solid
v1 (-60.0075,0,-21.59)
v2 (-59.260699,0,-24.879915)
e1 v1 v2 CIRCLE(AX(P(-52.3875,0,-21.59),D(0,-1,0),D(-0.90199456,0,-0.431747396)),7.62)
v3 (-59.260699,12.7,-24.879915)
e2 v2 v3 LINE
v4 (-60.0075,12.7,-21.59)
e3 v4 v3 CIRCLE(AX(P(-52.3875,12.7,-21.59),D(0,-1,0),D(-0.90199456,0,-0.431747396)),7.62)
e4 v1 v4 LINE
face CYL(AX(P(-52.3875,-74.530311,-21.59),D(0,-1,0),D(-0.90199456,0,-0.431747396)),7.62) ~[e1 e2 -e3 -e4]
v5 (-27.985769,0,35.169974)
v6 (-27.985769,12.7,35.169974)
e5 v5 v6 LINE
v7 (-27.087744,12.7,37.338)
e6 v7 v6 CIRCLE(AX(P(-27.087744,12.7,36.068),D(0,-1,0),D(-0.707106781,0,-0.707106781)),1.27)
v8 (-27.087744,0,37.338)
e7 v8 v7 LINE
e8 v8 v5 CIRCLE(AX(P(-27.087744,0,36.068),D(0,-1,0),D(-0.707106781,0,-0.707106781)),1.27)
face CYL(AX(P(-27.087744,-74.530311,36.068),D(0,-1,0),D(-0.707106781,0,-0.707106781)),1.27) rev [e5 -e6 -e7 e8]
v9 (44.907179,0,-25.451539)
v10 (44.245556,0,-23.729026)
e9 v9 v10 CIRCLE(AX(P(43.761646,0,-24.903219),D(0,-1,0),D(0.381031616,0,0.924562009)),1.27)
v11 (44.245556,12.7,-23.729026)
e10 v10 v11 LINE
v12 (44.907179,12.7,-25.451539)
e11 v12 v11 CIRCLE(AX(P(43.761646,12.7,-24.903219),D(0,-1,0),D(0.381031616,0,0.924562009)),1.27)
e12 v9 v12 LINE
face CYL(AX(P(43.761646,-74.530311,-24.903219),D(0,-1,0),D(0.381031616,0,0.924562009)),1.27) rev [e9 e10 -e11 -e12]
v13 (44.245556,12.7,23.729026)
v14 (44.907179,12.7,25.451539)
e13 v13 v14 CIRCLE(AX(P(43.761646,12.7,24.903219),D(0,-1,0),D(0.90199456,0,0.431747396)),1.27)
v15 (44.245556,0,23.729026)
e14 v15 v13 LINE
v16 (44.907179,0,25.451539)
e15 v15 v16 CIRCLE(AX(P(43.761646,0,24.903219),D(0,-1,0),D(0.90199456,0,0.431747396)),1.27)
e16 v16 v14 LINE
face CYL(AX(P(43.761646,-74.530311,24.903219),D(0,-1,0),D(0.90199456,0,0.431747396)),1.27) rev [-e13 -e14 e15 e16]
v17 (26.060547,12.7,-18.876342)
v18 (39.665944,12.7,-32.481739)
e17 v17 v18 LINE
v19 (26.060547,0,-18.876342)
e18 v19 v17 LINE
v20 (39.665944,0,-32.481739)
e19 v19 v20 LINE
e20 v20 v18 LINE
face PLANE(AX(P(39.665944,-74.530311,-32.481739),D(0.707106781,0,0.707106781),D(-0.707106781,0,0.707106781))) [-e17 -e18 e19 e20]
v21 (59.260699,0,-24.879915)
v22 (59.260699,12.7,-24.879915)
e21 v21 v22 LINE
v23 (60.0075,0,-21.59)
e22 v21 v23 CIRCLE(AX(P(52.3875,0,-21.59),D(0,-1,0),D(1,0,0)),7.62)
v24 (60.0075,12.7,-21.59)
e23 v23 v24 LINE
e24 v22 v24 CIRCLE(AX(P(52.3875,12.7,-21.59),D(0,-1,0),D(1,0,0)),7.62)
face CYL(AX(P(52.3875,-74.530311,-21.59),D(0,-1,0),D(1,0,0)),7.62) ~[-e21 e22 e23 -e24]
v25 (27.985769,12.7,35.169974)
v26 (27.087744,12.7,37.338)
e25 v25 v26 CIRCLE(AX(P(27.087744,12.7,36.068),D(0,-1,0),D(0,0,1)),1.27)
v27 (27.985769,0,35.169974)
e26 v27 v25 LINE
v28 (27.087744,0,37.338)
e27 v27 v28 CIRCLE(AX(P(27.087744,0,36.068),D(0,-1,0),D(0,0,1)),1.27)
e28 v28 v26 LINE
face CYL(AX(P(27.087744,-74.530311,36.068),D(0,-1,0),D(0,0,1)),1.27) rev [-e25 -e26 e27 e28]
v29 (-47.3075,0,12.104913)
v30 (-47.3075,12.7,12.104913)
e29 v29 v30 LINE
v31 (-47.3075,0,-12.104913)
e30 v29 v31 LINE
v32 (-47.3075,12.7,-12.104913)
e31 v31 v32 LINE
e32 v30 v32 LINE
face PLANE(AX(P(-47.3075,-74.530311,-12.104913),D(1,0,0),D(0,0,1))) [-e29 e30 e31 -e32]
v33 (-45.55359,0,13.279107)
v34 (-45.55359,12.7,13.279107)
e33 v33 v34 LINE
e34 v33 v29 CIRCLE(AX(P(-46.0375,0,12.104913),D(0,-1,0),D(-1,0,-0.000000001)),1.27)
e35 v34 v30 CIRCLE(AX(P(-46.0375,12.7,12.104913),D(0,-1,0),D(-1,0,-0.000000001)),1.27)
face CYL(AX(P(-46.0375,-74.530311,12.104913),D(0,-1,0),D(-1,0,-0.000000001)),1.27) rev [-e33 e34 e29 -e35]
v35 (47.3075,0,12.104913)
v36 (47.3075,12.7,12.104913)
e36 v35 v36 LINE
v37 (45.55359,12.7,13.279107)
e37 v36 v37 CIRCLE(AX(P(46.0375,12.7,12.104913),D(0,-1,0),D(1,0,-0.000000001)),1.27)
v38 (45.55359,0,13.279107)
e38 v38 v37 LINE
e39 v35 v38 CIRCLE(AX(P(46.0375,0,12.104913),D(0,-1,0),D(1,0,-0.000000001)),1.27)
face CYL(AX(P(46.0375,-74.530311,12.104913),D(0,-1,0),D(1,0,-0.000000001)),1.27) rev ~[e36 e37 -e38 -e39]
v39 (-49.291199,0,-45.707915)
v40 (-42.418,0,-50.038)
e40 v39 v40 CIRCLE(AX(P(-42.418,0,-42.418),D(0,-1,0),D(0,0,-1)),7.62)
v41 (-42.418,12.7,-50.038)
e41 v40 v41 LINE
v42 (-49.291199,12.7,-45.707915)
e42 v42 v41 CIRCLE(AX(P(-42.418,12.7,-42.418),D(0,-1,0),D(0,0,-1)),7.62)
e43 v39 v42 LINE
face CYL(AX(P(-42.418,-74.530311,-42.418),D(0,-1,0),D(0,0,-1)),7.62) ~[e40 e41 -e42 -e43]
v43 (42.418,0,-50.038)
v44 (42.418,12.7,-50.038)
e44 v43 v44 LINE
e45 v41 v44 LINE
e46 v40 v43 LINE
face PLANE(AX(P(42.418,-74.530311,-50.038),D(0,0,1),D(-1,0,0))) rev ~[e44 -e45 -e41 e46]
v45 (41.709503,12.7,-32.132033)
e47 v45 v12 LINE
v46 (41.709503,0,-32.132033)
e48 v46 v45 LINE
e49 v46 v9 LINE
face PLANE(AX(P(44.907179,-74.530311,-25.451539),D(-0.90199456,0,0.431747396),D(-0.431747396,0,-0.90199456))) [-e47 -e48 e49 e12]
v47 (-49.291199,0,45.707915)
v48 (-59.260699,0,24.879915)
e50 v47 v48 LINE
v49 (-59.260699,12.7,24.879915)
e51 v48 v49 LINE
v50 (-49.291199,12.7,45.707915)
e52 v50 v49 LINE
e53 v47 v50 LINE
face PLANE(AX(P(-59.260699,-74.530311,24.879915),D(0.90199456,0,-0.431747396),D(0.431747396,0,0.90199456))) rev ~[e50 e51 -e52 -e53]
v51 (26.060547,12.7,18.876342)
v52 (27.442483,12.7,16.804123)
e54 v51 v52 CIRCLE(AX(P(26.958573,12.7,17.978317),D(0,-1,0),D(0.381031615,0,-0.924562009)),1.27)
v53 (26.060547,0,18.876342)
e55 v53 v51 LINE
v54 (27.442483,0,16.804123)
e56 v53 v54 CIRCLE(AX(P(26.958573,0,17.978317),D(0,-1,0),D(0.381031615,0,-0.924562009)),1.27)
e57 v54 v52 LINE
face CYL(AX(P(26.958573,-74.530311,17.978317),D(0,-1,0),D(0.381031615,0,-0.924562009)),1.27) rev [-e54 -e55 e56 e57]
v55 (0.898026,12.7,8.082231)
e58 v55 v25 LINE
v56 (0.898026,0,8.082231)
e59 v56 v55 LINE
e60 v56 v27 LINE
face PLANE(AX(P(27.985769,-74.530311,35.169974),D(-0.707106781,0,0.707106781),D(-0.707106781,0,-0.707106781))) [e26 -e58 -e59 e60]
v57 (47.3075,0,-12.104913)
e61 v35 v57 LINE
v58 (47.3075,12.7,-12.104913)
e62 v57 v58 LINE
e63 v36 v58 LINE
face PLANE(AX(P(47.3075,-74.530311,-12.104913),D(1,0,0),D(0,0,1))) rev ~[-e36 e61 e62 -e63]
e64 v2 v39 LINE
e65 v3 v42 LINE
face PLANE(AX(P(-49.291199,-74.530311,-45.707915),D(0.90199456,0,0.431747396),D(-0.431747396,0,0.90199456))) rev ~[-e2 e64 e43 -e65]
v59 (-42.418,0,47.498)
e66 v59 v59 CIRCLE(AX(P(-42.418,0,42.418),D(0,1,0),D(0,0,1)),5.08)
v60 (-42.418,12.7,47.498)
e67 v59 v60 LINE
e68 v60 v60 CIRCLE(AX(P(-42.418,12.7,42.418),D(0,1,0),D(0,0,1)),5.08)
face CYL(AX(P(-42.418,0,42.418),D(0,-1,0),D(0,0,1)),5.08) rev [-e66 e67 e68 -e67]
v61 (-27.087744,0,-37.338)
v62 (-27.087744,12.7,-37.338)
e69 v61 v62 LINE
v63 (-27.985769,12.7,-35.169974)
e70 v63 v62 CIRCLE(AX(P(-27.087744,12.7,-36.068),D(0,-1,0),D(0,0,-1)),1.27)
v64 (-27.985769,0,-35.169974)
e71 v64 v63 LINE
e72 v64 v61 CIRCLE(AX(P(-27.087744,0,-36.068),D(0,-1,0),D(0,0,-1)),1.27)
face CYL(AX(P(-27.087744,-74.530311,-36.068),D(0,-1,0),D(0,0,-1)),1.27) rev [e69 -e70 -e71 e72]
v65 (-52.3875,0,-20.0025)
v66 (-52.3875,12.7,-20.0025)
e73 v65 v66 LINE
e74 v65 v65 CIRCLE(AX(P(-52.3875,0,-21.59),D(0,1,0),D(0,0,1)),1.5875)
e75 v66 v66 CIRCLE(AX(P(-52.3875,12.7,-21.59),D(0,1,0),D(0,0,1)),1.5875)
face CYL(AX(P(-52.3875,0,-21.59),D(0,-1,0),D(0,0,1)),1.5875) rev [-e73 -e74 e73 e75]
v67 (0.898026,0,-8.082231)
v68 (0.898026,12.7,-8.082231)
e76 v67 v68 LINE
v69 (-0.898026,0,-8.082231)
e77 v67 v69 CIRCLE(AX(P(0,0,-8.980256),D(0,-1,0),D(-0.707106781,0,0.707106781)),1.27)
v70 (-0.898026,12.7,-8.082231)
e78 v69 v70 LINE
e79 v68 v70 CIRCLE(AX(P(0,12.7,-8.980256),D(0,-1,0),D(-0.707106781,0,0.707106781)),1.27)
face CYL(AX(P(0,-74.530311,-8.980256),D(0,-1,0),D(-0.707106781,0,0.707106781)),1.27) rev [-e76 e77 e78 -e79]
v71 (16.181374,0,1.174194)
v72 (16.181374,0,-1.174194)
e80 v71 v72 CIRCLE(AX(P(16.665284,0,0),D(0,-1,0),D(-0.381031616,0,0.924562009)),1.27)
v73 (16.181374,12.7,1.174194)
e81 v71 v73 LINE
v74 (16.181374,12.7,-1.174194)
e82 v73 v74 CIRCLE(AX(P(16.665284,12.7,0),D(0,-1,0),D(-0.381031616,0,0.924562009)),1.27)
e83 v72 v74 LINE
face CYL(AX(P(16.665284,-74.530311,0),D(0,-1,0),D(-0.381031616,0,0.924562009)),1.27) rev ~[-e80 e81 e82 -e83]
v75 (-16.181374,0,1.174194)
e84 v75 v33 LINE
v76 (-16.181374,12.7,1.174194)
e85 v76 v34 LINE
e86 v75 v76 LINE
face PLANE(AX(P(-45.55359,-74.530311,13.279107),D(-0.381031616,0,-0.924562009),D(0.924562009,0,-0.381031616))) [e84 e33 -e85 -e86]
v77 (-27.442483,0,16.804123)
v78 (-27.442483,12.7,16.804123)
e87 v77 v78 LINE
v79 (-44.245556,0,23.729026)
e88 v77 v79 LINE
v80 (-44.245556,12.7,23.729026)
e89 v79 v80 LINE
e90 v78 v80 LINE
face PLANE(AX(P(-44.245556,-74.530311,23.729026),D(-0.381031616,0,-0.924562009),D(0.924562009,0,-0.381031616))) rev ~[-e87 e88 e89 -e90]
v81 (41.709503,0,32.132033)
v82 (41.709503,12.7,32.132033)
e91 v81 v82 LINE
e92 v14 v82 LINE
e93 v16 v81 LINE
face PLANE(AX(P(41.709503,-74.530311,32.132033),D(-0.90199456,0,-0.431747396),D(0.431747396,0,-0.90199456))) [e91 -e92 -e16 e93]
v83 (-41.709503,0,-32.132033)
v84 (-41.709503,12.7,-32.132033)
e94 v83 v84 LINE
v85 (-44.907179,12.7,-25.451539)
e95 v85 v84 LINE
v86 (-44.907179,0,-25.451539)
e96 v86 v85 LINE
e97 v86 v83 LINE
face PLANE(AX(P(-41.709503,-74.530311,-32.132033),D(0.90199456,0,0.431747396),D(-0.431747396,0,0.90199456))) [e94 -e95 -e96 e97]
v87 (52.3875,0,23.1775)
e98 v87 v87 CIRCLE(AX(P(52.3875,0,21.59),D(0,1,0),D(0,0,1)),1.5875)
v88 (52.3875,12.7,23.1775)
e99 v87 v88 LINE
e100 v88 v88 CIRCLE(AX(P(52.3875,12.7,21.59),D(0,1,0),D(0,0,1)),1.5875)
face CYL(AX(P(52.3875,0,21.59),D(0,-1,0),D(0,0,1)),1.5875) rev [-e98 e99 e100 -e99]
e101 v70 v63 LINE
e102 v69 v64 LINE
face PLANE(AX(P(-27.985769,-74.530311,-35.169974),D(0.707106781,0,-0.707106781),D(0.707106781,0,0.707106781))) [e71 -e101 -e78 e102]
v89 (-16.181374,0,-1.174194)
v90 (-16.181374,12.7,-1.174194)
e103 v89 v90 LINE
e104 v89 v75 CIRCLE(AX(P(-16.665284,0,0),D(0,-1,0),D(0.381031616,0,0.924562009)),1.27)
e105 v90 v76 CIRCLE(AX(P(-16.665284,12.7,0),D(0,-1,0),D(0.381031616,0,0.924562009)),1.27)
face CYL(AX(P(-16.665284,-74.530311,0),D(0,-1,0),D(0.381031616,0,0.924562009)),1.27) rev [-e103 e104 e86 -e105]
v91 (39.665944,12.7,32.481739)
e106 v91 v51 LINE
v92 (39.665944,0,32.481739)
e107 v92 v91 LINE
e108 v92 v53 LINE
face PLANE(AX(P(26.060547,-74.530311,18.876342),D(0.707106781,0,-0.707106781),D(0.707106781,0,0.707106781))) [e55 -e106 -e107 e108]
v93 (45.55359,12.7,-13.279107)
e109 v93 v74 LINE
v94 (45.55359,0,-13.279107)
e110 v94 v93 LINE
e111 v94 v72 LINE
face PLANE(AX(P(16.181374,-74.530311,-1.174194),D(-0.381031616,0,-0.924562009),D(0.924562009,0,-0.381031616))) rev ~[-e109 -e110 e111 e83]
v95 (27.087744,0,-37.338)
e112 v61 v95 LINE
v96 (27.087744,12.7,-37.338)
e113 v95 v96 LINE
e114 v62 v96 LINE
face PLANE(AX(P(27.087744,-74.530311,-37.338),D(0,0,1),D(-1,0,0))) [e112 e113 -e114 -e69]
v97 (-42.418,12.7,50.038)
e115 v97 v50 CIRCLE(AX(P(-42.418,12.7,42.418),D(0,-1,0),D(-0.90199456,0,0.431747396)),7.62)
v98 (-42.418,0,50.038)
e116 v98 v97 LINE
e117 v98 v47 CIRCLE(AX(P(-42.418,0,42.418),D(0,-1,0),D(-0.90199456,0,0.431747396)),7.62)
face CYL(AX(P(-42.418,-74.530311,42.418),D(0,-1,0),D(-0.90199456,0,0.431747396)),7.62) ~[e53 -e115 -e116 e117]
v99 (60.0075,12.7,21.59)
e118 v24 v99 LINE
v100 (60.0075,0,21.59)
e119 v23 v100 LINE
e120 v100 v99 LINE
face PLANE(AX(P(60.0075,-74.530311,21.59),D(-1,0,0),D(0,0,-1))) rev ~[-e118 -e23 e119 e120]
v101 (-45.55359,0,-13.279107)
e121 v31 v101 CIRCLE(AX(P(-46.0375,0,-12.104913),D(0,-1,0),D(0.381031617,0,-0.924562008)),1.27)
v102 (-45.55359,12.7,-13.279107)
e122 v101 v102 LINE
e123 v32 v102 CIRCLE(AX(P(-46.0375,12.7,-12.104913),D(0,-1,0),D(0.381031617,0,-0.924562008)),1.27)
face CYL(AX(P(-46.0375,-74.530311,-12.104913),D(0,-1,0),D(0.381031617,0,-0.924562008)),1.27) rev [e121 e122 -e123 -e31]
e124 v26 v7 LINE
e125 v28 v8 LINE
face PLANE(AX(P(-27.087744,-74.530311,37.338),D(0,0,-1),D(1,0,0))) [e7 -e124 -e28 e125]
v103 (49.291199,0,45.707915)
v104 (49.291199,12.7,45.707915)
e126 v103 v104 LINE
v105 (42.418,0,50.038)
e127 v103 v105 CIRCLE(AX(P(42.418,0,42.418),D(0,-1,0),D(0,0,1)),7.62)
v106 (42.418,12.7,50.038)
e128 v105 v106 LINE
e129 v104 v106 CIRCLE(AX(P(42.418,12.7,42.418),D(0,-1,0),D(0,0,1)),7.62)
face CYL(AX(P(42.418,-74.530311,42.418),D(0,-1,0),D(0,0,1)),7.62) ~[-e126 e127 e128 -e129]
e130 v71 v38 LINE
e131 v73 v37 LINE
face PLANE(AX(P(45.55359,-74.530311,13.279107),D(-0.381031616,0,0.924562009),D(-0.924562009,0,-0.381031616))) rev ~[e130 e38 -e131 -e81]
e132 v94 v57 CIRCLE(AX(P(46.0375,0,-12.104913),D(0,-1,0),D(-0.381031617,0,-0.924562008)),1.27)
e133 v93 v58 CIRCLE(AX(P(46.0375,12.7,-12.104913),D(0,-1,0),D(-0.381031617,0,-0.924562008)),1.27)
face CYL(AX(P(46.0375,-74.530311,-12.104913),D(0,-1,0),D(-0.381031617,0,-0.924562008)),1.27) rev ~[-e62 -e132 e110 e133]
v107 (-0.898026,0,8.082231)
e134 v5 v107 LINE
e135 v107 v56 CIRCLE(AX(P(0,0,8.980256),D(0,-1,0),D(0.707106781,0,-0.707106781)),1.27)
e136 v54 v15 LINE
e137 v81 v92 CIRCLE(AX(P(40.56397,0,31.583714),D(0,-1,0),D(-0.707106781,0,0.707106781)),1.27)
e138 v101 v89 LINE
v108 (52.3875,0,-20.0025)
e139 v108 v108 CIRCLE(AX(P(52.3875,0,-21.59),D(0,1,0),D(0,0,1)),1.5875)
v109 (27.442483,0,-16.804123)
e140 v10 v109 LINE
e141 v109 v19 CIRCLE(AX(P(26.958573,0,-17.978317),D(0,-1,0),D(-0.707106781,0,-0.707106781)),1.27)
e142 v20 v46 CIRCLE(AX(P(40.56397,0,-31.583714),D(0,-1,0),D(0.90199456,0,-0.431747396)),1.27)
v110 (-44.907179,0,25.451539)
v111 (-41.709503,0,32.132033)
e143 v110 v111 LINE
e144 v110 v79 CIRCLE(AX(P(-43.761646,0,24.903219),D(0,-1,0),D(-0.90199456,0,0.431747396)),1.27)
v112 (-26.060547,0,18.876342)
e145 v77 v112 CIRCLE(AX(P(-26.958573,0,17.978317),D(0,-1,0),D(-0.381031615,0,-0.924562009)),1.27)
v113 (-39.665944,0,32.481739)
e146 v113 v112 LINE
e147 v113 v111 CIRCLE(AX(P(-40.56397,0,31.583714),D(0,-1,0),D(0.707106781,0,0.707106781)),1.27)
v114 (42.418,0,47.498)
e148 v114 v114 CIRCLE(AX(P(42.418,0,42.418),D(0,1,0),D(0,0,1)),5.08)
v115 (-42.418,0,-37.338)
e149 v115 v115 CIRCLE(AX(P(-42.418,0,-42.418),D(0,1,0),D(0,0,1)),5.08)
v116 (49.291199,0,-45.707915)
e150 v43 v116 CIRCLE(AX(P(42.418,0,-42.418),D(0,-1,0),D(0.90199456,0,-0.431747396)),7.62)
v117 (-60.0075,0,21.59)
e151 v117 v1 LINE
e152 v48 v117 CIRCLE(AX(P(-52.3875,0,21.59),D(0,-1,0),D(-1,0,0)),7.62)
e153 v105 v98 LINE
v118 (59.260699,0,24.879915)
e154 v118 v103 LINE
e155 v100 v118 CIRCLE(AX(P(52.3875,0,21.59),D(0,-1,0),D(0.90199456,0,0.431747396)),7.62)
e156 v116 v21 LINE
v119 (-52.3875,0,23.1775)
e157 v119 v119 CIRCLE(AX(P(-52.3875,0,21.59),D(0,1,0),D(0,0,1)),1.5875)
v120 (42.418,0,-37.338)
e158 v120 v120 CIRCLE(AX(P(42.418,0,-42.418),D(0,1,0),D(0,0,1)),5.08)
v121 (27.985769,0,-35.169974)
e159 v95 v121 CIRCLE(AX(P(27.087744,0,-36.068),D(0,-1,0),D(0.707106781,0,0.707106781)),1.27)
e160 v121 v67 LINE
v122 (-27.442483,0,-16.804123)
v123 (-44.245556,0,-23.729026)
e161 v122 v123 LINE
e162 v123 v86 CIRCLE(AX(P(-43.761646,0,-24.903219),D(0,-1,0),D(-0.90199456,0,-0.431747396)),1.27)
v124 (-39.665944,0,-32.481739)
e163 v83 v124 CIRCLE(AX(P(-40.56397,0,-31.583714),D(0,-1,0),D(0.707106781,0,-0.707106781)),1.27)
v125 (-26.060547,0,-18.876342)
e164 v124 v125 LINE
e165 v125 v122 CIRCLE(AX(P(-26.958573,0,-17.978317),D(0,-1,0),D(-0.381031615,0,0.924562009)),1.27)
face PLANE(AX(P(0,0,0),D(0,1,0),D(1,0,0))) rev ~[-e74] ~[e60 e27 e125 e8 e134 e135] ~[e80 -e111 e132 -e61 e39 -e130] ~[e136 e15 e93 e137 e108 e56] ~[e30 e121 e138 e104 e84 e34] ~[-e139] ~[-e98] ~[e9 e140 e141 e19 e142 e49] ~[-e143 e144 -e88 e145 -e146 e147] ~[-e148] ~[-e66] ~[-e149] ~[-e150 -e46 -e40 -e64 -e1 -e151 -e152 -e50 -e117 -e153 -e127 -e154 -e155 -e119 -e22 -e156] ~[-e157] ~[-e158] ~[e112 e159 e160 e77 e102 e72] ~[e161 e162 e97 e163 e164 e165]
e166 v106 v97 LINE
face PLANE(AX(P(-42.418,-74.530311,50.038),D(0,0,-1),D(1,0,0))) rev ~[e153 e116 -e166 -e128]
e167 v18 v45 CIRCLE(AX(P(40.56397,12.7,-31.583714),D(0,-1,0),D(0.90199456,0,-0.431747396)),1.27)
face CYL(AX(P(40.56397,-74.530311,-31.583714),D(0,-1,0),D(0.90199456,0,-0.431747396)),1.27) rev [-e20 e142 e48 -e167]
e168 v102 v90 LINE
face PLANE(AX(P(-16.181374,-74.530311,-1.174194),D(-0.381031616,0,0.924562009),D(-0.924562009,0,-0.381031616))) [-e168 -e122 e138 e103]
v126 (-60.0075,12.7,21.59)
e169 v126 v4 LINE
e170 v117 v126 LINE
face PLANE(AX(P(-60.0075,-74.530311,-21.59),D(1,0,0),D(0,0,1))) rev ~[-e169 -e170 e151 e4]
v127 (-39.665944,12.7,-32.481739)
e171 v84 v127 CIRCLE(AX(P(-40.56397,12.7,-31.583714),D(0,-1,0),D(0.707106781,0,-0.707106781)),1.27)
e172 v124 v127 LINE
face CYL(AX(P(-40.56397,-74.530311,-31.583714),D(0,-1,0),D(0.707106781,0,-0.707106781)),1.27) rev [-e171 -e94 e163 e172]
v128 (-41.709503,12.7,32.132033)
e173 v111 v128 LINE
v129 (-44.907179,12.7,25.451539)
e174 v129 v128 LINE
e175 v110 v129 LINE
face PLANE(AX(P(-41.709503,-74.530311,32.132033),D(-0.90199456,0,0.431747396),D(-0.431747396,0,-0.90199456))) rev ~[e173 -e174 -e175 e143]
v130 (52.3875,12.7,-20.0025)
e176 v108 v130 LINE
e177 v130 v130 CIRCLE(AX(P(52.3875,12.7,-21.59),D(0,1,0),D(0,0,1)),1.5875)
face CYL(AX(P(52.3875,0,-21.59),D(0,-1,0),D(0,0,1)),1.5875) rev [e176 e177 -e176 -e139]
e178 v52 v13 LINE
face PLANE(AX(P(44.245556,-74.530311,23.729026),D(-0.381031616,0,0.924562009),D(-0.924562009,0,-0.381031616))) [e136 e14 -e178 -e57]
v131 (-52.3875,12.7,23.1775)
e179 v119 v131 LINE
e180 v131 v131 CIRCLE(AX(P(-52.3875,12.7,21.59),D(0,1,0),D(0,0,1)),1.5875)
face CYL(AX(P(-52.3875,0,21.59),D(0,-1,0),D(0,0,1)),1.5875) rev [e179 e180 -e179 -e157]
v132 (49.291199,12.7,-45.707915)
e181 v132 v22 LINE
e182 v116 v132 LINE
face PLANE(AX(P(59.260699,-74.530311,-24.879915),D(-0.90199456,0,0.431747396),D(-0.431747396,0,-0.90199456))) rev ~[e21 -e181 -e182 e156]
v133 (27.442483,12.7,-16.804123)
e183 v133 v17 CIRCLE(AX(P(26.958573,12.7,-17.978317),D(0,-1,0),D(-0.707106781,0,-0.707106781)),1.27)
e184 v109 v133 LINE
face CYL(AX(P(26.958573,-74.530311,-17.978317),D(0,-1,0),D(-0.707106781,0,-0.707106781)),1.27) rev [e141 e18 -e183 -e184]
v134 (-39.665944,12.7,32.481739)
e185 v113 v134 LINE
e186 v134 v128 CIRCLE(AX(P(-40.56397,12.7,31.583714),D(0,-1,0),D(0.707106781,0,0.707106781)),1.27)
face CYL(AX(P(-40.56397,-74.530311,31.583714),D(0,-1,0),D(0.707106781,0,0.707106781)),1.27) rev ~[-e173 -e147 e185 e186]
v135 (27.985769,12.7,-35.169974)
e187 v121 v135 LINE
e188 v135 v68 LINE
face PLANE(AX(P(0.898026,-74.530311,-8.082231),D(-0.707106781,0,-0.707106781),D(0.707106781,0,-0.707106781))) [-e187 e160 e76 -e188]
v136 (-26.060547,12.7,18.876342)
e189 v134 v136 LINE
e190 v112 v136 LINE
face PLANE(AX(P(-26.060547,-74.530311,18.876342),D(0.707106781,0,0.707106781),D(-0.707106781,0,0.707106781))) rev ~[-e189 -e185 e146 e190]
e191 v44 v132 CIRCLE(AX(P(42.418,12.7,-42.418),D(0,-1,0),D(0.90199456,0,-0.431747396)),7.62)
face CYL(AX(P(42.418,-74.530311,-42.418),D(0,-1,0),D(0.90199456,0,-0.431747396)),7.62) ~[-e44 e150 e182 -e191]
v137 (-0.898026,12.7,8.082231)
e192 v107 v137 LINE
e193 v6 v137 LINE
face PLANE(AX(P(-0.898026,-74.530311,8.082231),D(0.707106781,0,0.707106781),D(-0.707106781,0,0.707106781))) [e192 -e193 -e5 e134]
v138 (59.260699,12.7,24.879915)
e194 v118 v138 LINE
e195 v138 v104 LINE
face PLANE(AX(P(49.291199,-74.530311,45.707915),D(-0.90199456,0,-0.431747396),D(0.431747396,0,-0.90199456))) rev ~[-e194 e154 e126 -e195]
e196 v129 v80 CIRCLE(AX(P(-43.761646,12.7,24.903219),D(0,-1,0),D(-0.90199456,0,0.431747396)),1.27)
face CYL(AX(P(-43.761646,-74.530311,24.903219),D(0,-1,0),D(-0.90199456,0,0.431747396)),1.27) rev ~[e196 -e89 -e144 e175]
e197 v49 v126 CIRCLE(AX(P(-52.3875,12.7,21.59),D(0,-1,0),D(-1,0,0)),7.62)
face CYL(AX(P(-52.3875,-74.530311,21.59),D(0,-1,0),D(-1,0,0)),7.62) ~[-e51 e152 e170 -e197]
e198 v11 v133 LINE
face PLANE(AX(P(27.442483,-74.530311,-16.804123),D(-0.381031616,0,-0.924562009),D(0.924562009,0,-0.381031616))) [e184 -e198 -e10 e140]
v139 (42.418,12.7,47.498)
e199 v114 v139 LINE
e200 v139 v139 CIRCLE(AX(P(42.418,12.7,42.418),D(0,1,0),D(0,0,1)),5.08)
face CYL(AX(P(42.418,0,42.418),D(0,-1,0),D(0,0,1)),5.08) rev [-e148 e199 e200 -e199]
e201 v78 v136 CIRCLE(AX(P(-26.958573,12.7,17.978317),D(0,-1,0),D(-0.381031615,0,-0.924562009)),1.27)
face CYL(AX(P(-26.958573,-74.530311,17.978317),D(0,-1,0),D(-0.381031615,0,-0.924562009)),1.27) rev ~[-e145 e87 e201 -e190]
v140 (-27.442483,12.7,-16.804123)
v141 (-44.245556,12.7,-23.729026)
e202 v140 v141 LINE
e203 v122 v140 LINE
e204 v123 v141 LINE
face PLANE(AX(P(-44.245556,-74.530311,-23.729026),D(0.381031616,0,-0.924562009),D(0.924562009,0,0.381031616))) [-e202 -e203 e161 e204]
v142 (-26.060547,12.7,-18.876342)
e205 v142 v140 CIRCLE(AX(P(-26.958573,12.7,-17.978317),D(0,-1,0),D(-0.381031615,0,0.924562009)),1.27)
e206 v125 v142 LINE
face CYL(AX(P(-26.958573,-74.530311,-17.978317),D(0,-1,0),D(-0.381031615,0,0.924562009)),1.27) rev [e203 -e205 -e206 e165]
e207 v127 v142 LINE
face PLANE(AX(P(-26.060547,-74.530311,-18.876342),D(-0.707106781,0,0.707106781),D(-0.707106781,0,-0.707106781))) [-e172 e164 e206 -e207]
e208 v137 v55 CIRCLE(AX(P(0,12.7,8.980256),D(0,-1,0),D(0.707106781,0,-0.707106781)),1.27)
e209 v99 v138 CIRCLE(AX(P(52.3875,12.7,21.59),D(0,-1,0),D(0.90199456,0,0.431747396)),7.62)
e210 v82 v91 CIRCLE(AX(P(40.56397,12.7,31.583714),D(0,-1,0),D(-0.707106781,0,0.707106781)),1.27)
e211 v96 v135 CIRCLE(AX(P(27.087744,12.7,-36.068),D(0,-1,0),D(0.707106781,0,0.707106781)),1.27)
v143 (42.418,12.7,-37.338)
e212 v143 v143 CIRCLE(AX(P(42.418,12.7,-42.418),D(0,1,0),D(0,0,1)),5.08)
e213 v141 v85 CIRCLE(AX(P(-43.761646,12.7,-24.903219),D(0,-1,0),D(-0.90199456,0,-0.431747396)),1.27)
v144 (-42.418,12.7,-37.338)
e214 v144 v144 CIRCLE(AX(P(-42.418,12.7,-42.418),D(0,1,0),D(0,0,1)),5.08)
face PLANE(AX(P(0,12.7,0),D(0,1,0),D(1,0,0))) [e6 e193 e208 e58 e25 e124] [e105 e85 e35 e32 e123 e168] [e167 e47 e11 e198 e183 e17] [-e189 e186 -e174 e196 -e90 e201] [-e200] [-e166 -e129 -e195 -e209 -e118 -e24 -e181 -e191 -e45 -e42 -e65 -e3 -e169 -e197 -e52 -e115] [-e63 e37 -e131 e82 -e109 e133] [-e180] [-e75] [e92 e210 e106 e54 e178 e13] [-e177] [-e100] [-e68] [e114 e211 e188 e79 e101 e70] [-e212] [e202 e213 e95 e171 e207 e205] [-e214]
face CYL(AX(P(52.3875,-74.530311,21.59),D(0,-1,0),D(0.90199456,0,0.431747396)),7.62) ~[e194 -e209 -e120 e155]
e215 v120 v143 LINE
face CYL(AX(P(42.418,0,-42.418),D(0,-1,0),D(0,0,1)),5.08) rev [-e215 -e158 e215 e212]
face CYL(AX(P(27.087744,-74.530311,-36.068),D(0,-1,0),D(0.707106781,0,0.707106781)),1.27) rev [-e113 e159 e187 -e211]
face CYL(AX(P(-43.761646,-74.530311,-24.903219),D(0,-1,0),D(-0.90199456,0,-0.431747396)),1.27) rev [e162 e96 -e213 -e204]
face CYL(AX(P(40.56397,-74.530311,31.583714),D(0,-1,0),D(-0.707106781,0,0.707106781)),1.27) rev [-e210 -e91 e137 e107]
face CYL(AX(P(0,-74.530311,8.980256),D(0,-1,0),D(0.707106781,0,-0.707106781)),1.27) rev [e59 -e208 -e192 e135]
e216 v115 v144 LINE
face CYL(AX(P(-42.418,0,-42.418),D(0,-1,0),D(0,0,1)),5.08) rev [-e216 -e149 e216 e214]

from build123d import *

# Parameters (mm, degrees)
SKETCH1_W               = 130.175
SKETCH1_H               = 110.236
SKETCH1_R               = 1.5875
SKETCH1_R_2             = 5.08
BOSS_EXTRUDE1_DEPTH     = 12.7
CUT_EXTRUDE1_DEPTH      = 87.230311261
CUT_EXTRUDE1_DEPTH_BACK = 87.230311261
SKETCH2_OUTSIDE_W       = 166.385
SKETCH2_OUTSIDE_H       = 146.446


with BuildPart() as part:
    # Sketch1 → Boss-Extrude1 (new body)
    with BuildSketch(Plane(origin=(0, 0, 0), x_dir=(1, 0, 0), z_dir=(0, 1, 0))):
        Rectangle(SKETCH1_W, SKETCH1_H)
        with Locations(Location((-52.3875, 21.59, 0), (0, 0, 270))):
            Circle(SKETCH1_R, mode=Mode.SUBTRACT)
        with Locations(Location((52.3875, 21.59, 0), (0, 0, 270))):
            Circle(SKETCH1_R, mode=Mode.SUBTRACT)
        with Locations(Location((52.3875, -21.59, 0), (0, 0, 270))):
            Circle(SKETCH1_R, mode=Mode.SUBTRACT)
        with Locations(Location((-52.3875, -21.59, 0), (0, 0, 270))):
            Circle(SKETCH1_R, mode=Mode.SUBTRACT)
        with Locations(Location((-42.418, 42.418, 0), (0, 0, 270))):
            Circle(SKETCH1_R_2, mode=Mode.SUBTRACT)
        with Locations(Location((42.418, 42.418, 0), (0, 0, 270))):
            Circle(SKETCH1_R_2, mode=Mode.SUBTRACT)
        with Locations(Location((42.418, -42.418, 0), (0, 0, 270))):
            Circle(SKETCH1_R_2, mode=Mode.SUBTRACT)
        with Locations(Location((-42.418, -42.418, 0), (0, 0, 270))):
            Circle(SKETCH1_R_2, mode=Mode.SUBTRACT)
    extrude(amount=BOSS_EXTRUDE1_DEPTH)

    # Sketch2 outside → Cut-Extrude1 (cut, two sides: drawn at the far end of the back side and taken through both)
    # profile 1 of 9: a face of its own
    with BuildSketch(Plane(origin=(0, 12.7, 0), x_dir=(1, 0, 0), z_dir=(0, 1, 0)).offset(-CUT_EXTRUDE1_DEPTH_BACK)):
        with Locations((-0.0005, 0)):
            Rectangle(SKETCH2_OUTSIDE_W, SKETCH2_OUTSIDE_H)
        with BuildLine():
            Line((42.418, 50.038), (-42.418, 50.038))
            ThreePointArc((-42.418, 50.038), (-46.479726634, 48.865230161), (-49.291198546, 45.707915158))
            Line((-49.291198546, 45.707915158), (-59.260698546, 24.879915158))
            ThreePointArc((-59.260698546, 24.879915158), (-59.818454613, 23.276805721), (-60.0075, 21.59))
            Line((-60.0075, 21.59), (-60.0075, -21.59))
            ThreePointArc((-60.0075, -21.59), (-59.818454613, -23.276805721), (-59.260698546, -24.879915158))
            Line((-59.260698546, -24.879915158), (-49.291198546, -45.707915158))
            ThreePointArc((-49.291198546, -45.707915158), (-46.479726634, -48.865230161), (-42.418, -50.038))
            Line((-42.418, -50.038), (42.418, -50.038))
            ThreePointArc((42.418, -50.038), (46.479726634, -48.865230161), (49.291198546, -45.707915158))
            Line((49.291198546, -45.707915158), (59.260698546, -24.879915158))
            ThreePointArc((59.260698546, -24.879915158), (59.818454613, -23.276805721), (60.0075, -21.59))
            Line((60.0075, -21.59), (60.0075, 21.59))
            ThreePointArc((60.0075, 21.59), (59.818454613, 23.276805721), (59.260698546, 24.879915158))
            Line((59.260698546, 24.879915158), (49.291198546, 45.707915158))
            ThreePointArc((49.291198546, 45.707915158), (46.479726634, 48.865230161), (42.418, 50.038))
        make_face(mode=Mode.SUBTRACT)
    # profile 2 of 9: a face of its own
    with BuildSketch(Plane(origin=(0, 12.7, 0), x_dir=(1, 0, 0), z_dir=(0, 1, 0)).offset(-CUT_EXTRUDE1_DEPTH_BACK)):
        with BuildLine():
            Line((-27.087743879, -37.338), (27.087743879, -37.338))
            ThreePointArc((27.087743879, -37.338), (28.261070885, -36.554007959), (27.985769491, -35.169974388))
            Line((27.985769491, -35.169974388), (0.898025612, -8.082230509))
            ThreePointArc((0.898025612, -8.082230509), (0, -7.710256121), (-0.898025612, -8.082230509))
            Line((-0.898025612, -8.082230509), (-27.985769491, -35.169974388))
            ThreePointArc((-27.985769491, -35.169974388), (-28.261070885, -36.554007959), (-27.087743879, -37.338))
        make_face()
    # profile 3 of 9: a face of its own
    with BuildSketch(Plane(origin=(0, 12.7, 0), x_dir=(1, 0, 0), z_dir=(0, 1, 0)).offset(-CUT_EXTRUDE1_DEPTH_BACK)):
        with BuildLine():
            Line((-44.245555664, -23.729025589), (-27.442482896, -16.804122872))
            ThreePointArc((-27.442482896, -16.804122872), (-25.901976239, -17.273686348), (-26.060547132, -18.876342235))
            Line((-26.060547132, -18.876342235), (-39.665944234, -32.481739337))
            ThreePointArc((-39.665944234, -32.481739337), (-40.778186169, -32.835516971), (-41.709502937, -32.132032918))
            Line((-41.709502937, -32.132032918), (-44.907178603, -25.451538533))
            ThreePointArc((-44.907178603, -25.451538533), (-44.947197717, -24.447844803), (-44.245555664, -23.729025589))
        make_face()
    # profile 4 of 9: a face of its own
    with BuildSketch(Plane(origin=(0, 12.7, 0), x_dir=(1, 0, 0), z_dir=(0, 1, 0)).offset(-CUT_EXTRUDE1_DEPTH_BACK)):
        with BuildLine():
            Line((-45.553589848, -13.279107107), (-16.181373616, -1.174193751))
            ThreePointArc((-16.181373616, -1.174193751), (-15.395283768, 0), (-16.181373616, 1.174193751))
            Line((-16.181373616, 1.174193751), (-45.553589848, 13.279107107))
            ThreePointArc((-45.553589848, 13.279107107), (-46.744017554, 13.160248823), (-47.3075, 12.104913356))
            Line((-47.3075, 12.104913356), (-47.3075, -12.104913356))
            ThreePointArc((-47.3075, -12.104913356), (-46.744017554, -13.160248823), (-45.553589848, -13.279107107))
        make_face()
    # profile 5 of 9: a face of its own
    with BuildSketch(Plane(origin=(0, 12.7, 0), x_dir=(1, 0, 0), z_dir=(0, 1, 0)).offset(-CUT_EXTRUDE1_DEPTH_BACK)):
        with BuildLine():
            Line((-44.245555664, 23.729025589), (-27.442482896, 16.804122872))
            ThreePointArc((-27.442482896, 16.804122872), (-25.901976239, 17.273686348), (-26.060547132, 18.876342235))
            Line((-26.060547132, 18.876342235), (-39.665944234, 32.481739337))
            ThreePointArc((-39.665944234, 32.481739337), (-40.778186169, 32.835516971), (-41.709502937, 32.132032918))
            Line((-41.709502937, 32.132032918), (-44.907178603, 25.451538533))
            ThreePointArc((-44.907178603, 25.451538533), (-44.947197717, 24.447844803), (-44.245555664, 23.729025589))
        make_face()
    # profile 6 of 9: a face of its own
    with BuildSketch(Plane(origin=(0, 12.7, 0), x_dir=(1, 0, 0), z_dir=(0, 1, 0)).offset(-CUT_EXTRUDE1_DEPTH_BACK)):
        with BuildLine():
            Line((0.898025612, 8.082230509), (27.985769491, 35.169974388))
            ThreePointArc((27.985769491, 35.169974388), (28.261070885, 36.554007959), (27.087743879, 37.338))
            Line((27.087743879, 37.338), (-27.087743879, 37.338))
            ThreePointArc((-27.087743879, 37.338), (-28.261070885, 36.554007959), (-27.985769491, 35.169974388))
            Line((-27.985769491, 35.169974388), (-0.898025612, 8.082230509))
            ThreePointArc((-0.898025612, 8.082230509), (0, 7.710256121), (0.898025612, 8.082230509))
        make_face()
    # profile 7 of 9: a face of its own
    with BuildSketch(Plane(origin=(0, 12.7, 0), x_dir=(1, 0, 0), z_dir=(0, 1, 0)).offset(-CUT_EXTRUDE1_DEPTH_BACK)):
        with BuildLine():
            Line((27.442482896, 16.804122872), (44.245555664, 23.729025589))
            ThreePointArc((44.245555664, 23.729025589), (44.947197717, 24.447844803), (44.907178603, 25.451538533))
            Line((44.907178603, 25.451538533), (41.709502937, 32.132032918))
            ThreePointArc((41.709502937, 32.132032918), (40.778186169, 32.835516971), (39.665944234, 32.481739337))
            Line((39.665944234, 32.481739337), (26.060547132, 18.876342235))
            ThreePointArc((26.060547132, 18.876342235), (25.901976239, 17.273686348), (27.442482896, 16.804122872))
        make_face()
    # profile 8 of 9: a face of its own
    with BuildSketch(Plane(origin=(0, 12.7, 0), x_dir=(1, 0, 0), z_dir=(0, 1, 0)).offset(-CUT_EXTRUDE1_DEPTH_BACK)):
        with BuildLine():
            Line((16.181373616, 1.174193751), (45.553589848, 13.279107107))
            ThreePointArc((45.553589848, 13.279107107), (46.744017554, 13.160248823), (47.3075, 12.104913356))
            Line((47.3075, 12.104913356), (47.3075, -12.104913356))
            ThreePointArc((47.3075, -12.104913356), (46.744017554, -13.160248823), (45.553589848, -13.279107107))
            Line((45.553589848, -13.279107107), (16.181373616, -1.174193751))
            ThreePointArc((16.181373616, -1.174193751), (15.395283768, 0), (16.181373616, 1.174193751))
        make_face()
    # profile 9 of 9: a face of its own
    with BuildSketch(Plane(origin=(0, 12.7, 0), x_dir=(1, 0, 0), z_dir=(0, 1, 0)).offset(-CUT_EXTRUDE1_DEPTH_BACK)):
        with BuildLine():
            Line((26.060547132, -18.876342235), (39.665944234, -32.481739337))
            ThreePointArc((39.665944234, -32.481739337), (40.778186169, -32.835516971), (41.709502937, -32.132032918))
            Line((41.709502937, -32.132032918), (44.907178603, -25.451538533))
            ThreePointArc((44.907178603, -25.451538533), (44.947197717, -24.447844803), (44.245555664, -23.729025589))
            Line((44.245555664, -23.729025589), (27.442482896, -16.804122872))
            ThreePointArc((27.442482896, -16.804122872), (25.901976239, -17.273686348), (26.060547132, -18.876342235))
        make_face()
    extrude(amount=CUT_EXTRUDE1_DEPTH + CUT_EXTRUDE1_DEPTH_BACK, mode=Mode.SUBTRACT)


solid = part.part
